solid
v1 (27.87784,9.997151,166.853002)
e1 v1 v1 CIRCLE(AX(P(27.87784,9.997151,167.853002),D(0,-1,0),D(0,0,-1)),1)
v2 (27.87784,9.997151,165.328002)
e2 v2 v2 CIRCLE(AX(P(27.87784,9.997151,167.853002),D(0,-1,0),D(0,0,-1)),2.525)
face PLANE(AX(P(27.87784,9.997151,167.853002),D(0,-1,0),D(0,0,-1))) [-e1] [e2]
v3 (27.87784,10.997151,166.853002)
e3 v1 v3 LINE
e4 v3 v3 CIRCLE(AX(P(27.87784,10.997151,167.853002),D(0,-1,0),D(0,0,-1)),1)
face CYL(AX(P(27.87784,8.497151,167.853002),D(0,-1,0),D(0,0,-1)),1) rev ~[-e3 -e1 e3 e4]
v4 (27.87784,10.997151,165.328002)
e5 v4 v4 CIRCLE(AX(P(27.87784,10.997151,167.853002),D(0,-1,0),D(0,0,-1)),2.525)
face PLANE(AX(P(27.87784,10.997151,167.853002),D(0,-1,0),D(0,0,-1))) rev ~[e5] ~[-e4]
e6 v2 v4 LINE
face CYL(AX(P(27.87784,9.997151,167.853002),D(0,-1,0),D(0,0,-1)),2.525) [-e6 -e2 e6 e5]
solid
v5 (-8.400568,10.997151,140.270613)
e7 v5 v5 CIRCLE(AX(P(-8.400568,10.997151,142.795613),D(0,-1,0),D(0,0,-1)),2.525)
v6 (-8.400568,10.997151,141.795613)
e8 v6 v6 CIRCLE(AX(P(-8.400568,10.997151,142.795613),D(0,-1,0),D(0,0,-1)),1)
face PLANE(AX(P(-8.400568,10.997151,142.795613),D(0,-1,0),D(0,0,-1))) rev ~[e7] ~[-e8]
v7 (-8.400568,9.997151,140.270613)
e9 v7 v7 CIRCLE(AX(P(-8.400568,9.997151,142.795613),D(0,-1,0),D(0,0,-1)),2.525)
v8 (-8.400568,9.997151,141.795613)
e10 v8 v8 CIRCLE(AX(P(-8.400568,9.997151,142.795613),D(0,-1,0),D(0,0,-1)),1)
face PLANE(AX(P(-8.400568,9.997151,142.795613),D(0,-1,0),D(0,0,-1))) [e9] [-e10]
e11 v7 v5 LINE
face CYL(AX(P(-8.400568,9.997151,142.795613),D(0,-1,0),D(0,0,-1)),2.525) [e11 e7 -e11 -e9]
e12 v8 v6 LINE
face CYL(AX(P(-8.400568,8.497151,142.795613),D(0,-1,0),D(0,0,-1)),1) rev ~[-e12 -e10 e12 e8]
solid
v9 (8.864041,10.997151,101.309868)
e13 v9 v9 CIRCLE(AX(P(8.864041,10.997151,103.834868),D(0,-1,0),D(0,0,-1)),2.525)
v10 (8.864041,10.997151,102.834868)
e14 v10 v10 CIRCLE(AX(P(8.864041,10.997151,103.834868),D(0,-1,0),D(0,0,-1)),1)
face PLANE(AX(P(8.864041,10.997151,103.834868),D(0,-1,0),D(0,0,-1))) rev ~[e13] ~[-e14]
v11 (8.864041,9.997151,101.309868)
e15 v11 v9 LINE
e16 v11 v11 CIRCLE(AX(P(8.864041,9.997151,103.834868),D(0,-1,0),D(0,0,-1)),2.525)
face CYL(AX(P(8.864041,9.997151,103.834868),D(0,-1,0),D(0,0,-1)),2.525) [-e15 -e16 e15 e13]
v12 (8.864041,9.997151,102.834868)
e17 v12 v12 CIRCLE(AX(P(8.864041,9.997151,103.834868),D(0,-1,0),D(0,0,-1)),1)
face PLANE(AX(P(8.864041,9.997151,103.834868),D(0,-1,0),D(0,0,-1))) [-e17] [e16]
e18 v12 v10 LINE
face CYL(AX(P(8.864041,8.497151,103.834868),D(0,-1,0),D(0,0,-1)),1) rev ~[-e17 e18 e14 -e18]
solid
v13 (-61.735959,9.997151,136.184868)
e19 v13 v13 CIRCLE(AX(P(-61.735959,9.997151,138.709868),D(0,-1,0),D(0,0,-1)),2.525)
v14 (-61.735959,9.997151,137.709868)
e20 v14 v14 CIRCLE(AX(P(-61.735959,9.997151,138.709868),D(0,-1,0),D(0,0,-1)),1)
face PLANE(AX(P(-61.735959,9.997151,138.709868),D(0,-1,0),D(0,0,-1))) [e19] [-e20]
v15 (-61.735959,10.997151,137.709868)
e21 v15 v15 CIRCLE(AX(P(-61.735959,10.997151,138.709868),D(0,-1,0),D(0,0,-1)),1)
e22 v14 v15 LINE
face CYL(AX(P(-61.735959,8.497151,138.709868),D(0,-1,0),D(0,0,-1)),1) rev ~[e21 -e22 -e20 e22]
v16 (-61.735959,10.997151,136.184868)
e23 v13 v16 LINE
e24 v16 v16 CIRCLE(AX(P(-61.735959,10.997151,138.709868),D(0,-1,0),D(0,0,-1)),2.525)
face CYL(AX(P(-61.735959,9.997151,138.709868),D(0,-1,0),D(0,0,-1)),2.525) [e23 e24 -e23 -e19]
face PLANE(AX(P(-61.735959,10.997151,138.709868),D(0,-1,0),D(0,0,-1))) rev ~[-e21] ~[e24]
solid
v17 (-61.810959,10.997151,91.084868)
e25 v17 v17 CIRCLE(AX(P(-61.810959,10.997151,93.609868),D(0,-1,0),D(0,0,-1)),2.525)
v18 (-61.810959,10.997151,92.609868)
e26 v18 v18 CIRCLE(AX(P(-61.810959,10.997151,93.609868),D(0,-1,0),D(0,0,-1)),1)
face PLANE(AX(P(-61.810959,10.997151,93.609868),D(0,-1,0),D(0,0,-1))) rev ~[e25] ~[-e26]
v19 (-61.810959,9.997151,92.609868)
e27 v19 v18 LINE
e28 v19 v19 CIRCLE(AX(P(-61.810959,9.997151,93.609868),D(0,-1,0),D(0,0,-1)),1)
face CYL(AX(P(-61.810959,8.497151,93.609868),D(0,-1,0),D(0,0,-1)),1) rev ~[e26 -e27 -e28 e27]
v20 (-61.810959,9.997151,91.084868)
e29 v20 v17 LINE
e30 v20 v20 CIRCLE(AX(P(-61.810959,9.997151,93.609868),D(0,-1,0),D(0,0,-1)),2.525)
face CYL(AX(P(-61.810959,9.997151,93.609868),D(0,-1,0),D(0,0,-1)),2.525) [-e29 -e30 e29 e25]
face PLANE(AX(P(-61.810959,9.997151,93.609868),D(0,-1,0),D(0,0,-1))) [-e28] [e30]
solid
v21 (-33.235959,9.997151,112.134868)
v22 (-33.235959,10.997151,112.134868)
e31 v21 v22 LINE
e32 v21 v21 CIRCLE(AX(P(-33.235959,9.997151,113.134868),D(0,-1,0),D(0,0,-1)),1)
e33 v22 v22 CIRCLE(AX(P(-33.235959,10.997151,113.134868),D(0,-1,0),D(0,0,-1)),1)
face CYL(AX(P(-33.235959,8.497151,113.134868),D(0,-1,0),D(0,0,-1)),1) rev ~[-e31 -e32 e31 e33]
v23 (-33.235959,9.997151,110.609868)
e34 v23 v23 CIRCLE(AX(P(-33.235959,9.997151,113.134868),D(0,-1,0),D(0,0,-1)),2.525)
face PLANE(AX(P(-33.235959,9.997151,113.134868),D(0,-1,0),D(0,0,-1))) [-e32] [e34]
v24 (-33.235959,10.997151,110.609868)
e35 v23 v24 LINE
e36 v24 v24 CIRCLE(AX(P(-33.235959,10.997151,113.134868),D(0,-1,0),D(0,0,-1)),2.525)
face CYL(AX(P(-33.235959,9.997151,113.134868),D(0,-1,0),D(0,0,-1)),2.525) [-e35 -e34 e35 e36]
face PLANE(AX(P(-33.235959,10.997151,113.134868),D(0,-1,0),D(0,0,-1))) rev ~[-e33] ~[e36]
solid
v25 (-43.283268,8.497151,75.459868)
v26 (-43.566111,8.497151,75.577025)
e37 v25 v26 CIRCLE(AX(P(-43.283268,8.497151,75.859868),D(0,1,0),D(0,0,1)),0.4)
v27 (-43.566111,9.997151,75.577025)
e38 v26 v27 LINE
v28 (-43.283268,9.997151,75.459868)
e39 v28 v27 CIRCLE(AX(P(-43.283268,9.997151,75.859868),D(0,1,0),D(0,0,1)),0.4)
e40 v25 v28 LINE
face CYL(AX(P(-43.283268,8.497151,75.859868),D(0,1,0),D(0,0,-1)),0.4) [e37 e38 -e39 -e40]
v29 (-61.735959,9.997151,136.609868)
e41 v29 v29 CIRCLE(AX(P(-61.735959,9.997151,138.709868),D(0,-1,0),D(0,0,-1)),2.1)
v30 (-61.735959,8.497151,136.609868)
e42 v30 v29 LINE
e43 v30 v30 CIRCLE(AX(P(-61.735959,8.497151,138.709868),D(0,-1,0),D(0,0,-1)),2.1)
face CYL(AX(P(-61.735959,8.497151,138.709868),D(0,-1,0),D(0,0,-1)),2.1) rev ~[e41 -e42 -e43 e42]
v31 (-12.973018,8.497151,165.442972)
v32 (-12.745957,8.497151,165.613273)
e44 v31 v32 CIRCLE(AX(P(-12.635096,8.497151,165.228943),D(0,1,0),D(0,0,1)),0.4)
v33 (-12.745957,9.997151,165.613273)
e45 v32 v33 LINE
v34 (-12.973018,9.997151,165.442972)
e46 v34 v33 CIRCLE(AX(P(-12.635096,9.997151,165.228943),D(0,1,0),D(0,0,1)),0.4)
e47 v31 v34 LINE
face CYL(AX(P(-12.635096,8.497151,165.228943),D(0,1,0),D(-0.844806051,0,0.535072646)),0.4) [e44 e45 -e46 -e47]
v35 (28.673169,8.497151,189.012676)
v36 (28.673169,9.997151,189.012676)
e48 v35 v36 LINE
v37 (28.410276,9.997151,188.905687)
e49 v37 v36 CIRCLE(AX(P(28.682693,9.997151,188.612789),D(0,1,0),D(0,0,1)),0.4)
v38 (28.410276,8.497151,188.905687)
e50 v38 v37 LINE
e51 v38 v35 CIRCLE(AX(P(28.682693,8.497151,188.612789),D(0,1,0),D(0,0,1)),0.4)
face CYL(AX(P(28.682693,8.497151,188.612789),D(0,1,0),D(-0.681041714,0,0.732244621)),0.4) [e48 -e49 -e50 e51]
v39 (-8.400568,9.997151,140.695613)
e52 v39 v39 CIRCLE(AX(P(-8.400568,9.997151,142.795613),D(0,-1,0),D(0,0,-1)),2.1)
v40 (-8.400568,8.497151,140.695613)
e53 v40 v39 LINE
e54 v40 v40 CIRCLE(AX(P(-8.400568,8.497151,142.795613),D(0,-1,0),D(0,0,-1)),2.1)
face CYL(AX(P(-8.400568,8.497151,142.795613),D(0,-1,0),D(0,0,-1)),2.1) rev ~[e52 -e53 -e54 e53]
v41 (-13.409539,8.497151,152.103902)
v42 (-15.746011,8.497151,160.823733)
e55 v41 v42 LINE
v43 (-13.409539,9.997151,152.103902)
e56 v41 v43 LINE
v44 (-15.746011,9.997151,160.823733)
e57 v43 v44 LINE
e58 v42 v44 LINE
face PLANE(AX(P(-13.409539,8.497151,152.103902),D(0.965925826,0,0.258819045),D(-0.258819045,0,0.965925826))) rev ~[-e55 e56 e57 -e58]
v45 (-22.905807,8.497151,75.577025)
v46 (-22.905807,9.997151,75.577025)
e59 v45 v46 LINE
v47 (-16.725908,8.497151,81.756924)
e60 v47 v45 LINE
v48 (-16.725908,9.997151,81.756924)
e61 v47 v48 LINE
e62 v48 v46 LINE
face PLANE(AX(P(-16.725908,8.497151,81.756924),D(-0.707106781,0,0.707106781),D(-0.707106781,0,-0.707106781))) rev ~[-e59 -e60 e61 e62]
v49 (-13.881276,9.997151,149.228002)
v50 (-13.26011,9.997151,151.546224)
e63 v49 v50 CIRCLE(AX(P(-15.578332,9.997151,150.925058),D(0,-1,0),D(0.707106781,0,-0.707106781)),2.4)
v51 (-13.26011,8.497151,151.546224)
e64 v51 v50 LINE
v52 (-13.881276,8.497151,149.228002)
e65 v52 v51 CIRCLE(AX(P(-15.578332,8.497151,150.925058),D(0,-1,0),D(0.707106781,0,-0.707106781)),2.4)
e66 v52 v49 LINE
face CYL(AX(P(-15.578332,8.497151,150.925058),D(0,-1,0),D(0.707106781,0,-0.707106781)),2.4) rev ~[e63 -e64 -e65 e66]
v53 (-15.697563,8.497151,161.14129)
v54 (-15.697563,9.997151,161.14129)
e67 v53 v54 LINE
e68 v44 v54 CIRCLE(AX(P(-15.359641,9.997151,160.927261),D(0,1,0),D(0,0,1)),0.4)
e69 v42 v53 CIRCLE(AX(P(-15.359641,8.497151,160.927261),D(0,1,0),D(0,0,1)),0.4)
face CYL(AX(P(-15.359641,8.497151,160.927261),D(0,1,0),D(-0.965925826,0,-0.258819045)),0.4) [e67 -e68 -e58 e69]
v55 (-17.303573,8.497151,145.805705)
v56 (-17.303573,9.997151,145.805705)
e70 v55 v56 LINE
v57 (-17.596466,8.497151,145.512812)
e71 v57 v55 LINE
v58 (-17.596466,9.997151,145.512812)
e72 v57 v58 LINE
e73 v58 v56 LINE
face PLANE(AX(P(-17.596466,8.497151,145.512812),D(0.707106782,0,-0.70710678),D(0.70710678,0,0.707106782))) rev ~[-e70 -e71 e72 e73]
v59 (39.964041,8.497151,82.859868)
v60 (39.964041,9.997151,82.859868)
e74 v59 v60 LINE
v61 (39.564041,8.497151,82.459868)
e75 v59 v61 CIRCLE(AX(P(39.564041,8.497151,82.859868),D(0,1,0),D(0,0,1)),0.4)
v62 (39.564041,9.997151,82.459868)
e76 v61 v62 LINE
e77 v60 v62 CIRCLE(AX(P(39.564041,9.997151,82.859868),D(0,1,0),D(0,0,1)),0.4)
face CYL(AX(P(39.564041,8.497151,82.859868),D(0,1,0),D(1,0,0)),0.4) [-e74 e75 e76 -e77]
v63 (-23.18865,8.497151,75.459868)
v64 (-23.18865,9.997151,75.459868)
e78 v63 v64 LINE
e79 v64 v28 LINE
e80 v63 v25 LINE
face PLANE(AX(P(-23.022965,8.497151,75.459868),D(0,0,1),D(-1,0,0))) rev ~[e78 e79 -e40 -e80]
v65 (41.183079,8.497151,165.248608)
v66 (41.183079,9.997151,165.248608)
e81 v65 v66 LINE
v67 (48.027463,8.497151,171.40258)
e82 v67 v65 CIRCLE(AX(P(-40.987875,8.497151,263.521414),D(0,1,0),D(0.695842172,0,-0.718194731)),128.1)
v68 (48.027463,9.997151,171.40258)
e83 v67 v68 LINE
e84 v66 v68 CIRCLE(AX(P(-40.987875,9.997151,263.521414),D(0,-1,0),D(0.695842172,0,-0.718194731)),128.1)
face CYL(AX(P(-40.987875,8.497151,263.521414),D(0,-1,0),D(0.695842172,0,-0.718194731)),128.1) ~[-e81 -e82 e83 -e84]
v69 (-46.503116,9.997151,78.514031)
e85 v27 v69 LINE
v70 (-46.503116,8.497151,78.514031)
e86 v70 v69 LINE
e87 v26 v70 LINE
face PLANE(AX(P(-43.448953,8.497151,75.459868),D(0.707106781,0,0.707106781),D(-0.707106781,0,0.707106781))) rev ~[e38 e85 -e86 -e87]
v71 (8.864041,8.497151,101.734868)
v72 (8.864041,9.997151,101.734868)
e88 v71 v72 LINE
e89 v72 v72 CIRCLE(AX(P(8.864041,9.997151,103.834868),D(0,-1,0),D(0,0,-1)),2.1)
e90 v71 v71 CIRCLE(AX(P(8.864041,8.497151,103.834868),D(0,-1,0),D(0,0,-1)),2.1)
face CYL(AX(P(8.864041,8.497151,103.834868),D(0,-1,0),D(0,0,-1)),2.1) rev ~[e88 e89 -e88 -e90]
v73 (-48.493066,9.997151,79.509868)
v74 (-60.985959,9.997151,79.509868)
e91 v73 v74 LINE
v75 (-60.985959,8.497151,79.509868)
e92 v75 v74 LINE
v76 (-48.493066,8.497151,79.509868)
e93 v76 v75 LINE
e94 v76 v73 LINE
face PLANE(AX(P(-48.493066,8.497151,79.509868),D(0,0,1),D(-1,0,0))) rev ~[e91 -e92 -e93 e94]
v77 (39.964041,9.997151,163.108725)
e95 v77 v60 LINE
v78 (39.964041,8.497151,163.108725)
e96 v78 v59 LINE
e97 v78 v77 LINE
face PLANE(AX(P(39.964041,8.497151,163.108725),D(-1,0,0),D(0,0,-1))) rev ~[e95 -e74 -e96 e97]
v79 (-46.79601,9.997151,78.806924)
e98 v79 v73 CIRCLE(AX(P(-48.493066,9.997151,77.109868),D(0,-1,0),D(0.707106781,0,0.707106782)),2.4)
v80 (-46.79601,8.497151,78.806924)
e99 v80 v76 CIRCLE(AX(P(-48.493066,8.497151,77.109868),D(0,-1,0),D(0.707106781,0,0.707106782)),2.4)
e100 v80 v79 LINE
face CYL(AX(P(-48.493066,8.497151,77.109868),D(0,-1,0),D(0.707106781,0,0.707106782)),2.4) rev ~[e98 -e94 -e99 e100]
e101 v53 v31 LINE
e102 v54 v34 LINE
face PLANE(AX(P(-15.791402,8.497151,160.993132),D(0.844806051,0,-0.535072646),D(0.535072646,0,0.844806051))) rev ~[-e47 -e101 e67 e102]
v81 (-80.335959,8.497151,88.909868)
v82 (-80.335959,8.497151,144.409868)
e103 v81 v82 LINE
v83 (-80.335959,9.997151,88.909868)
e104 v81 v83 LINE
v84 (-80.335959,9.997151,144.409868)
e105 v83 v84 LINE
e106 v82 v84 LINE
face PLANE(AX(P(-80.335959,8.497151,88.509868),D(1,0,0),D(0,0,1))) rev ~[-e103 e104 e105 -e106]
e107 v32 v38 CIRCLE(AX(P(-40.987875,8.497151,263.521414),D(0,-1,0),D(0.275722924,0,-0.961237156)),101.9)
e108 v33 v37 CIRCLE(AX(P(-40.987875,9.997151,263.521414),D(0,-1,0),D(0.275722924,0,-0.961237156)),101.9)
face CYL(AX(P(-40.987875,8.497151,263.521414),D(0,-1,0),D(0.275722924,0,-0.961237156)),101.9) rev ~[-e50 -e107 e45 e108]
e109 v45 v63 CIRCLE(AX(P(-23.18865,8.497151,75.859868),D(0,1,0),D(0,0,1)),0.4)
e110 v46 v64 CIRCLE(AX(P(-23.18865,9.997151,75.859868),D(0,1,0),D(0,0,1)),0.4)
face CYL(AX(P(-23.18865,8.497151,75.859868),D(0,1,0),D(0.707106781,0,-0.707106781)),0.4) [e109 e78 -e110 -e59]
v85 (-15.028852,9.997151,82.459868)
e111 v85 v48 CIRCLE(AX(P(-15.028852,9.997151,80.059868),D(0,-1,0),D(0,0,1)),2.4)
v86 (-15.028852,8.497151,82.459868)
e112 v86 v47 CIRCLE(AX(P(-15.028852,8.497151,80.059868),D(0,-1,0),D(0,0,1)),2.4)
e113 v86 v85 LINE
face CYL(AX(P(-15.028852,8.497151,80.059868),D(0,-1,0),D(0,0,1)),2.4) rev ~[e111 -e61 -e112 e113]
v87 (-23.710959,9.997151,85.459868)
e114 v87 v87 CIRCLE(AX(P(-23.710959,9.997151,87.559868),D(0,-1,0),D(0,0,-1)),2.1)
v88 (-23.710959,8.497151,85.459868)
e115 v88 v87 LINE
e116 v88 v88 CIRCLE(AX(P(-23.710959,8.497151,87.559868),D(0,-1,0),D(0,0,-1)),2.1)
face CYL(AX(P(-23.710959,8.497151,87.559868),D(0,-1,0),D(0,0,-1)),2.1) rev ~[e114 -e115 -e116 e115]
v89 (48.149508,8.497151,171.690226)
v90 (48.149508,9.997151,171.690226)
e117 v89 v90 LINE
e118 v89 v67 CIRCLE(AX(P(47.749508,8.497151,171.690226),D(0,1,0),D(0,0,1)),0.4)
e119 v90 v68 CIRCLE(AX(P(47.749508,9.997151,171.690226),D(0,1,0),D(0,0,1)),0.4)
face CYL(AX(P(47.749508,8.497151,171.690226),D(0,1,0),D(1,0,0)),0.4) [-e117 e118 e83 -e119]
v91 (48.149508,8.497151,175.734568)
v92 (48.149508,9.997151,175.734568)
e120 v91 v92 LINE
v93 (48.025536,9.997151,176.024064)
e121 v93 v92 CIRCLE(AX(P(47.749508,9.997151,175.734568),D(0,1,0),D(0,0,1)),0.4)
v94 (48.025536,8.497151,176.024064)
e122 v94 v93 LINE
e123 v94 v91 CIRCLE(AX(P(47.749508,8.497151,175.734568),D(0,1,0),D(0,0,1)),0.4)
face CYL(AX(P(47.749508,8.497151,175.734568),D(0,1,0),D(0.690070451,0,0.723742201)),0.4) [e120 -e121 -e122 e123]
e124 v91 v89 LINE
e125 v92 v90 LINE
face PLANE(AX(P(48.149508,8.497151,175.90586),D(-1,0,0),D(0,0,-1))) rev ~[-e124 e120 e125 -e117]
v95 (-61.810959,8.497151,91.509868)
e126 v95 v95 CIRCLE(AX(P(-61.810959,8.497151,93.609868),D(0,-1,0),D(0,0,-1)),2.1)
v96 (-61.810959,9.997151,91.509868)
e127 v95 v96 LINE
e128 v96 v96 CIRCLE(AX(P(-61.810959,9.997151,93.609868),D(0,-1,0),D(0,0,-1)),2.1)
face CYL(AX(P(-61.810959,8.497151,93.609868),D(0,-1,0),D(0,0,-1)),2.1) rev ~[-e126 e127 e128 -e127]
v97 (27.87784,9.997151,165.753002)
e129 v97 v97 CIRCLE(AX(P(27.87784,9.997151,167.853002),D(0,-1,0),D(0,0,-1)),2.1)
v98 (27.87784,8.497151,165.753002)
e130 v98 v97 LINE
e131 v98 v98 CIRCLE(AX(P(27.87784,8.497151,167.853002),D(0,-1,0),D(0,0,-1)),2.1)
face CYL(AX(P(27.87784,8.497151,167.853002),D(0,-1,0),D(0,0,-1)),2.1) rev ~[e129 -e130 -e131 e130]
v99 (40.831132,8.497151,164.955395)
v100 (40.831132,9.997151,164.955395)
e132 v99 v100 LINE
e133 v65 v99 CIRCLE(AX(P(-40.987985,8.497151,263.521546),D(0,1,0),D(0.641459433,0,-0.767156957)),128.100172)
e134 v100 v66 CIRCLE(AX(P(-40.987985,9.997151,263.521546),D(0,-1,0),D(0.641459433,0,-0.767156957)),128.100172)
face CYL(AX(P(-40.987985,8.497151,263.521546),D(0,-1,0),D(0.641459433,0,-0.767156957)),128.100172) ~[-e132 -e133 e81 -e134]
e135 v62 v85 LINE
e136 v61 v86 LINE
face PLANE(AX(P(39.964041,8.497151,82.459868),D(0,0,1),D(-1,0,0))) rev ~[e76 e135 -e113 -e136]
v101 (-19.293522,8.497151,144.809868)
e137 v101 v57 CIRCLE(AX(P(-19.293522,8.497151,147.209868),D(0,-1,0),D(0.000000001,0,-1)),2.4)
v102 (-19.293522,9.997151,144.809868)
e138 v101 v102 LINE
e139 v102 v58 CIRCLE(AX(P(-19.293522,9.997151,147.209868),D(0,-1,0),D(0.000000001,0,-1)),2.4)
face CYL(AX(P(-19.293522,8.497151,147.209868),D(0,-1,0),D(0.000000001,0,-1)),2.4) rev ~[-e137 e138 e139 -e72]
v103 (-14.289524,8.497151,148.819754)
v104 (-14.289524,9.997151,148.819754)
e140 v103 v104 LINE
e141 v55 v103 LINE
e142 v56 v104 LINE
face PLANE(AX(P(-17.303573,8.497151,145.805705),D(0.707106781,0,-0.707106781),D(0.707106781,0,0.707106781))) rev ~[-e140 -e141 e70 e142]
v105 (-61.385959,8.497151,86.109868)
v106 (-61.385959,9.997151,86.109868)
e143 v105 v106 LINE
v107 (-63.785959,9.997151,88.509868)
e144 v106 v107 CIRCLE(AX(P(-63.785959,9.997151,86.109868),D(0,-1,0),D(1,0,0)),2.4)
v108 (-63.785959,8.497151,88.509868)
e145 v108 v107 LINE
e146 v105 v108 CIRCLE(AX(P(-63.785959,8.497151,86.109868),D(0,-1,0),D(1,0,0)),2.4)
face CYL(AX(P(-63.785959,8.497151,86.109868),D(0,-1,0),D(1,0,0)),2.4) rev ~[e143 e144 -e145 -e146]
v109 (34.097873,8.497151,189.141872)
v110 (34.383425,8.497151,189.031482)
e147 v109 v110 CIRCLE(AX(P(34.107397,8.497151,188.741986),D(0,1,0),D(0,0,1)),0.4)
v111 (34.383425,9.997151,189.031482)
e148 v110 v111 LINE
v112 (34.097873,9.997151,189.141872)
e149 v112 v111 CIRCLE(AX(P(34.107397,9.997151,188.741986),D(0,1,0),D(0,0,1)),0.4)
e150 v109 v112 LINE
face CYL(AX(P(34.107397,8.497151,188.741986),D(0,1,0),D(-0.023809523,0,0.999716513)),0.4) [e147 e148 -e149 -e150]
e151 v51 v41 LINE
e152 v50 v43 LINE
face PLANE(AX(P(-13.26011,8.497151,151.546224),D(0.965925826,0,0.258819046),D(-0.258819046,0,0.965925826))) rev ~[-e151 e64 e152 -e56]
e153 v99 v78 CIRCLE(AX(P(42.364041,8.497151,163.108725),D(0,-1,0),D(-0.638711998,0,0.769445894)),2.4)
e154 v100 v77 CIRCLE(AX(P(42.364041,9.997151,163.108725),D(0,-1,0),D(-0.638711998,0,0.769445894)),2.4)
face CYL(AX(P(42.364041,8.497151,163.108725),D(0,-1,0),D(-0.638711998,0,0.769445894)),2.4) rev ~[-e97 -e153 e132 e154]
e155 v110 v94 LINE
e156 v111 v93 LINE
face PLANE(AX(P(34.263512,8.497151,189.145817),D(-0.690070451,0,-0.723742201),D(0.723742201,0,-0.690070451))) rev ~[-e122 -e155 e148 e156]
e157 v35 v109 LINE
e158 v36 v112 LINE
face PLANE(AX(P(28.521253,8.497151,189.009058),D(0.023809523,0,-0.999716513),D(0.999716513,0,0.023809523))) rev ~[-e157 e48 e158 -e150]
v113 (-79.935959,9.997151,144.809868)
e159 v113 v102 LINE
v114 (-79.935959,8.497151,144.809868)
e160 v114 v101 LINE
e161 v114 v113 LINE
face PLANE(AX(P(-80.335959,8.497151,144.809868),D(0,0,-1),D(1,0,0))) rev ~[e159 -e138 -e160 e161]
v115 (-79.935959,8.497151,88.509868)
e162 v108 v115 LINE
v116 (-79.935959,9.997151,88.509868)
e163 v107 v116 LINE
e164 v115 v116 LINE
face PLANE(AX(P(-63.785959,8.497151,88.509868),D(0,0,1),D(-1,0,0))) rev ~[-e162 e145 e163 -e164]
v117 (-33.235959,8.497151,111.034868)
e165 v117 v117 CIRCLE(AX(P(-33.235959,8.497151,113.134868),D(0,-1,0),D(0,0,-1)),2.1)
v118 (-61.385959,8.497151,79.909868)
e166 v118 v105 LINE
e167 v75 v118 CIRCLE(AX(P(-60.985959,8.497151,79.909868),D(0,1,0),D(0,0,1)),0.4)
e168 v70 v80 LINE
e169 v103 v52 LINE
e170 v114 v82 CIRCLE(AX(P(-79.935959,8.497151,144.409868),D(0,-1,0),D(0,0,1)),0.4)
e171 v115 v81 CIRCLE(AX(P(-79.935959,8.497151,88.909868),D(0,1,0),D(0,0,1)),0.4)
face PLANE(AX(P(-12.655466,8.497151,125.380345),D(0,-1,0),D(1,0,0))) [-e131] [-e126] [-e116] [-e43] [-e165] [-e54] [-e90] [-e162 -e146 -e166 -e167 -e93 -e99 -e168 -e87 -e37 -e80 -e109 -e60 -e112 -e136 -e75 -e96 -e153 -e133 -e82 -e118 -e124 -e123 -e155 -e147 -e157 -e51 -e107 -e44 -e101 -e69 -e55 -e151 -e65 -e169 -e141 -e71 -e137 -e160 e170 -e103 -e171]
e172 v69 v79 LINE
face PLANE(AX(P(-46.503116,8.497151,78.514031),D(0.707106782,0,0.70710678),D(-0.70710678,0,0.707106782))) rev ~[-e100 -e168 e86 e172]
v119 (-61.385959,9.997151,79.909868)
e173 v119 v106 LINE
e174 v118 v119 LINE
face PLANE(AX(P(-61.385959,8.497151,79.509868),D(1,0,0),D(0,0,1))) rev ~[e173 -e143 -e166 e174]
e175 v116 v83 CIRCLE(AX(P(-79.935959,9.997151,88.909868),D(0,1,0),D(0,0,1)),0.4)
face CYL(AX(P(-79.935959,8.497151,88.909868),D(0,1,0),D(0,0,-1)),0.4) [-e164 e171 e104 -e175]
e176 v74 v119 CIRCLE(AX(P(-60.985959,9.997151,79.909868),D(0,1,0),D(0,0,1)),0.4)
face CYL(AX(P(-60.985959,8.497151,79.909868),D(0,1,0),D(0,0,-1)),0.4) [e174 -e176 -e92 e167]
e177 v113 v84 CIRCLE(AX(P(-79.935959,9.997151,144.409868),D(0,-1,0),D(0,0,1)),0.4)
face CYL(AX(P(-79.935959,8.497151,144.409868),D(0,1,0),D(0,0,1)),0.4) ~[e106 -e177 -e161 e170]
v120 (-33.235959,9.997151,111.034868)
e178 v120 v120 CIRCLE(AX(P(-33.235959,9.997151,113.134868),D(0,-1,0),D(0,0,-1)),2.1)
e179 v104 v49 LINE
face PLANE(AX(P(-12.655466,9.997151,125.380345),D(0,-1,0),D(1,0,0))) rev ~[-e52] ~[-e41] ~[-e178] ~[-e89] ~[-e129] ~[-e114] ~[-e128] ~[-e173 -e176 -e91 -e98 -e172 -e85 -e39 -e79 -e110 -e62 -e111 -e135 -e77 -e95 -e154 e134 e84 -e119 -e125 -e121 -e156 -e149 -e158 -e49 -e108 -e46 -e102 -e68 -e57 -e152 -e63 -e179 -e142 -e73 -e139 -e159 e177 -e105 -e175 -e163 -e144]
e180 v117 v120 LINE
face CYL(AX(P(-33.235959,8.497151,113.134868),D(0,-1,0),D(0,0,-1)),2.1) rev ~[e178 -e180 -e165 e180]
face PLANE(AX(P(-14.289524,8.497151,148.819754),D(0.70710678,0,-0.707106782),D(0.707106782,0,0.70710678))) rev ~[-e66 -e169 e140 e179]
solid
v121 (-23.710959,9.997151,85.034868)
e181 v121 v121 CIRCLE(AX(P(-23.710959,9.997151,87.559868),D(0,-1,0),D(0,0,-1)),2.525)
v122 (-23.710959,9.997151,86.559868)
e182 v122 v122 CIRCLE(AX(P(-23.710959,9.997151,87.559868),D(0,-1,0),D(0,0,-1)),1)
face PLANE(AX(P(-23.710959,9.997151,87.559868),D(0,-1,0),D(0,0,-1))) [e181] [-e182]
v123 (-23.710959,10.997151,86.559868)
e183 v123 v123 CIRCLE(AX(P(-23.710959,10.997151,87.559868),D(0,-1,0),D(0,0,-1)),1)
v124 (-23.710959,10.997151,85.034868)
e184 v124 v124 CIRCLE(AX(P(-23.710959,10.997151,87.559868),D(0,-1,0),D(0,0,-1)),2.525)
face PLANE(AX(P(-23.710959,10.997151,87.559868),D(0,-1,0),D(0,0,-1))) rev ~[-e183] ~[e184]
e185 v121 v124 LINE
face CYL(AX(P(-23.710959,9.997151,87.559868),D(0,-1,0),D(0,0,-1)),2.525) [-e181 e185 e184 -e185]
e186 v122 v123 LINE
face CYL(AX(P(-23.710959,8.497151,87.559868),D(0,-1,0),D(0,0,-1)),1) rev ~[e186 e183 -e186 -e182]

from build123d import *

# Parameters (mm, degrees)
SCHIZZO1_R                     = 2.525
SCHIZZO1_R_2                   = 0.6
ESTRUSIONE_ESTRUSIONE1_DEPTH   = 1
ESTRUSIONE_ESTRUSIONE1_2_DEPTH = 1
ESTRUSIONE_ESTRUSIONE1_3_DEPTH = 1
ESTRUSIONE_ESTRUSIONE1_4_DEPTH = 1
ESTRUSIONE_ESTRUSIONE1_5_DEPTH = 1
ESTRUSIONE_ESTRUSIONE1_6_DEPTH = 1
ESTRUSIONE_ESTRUSIONE1_7_DEPTH = 1
SCHIZZO1_4_R                   = 0.6
ESTRUSIONE_ESTRUSIONE3_DEPTH   = 1.5
SCHIZZO2_R                     = 1
SCHIZZO2_R_2                   = 0.6
TAGLIO_ESTRUSIONE1_DEPTH       = 206.778654361
SCHIZZO2_3_R                   = 2.1
TAGLIO_ESTRUSIONE2_DEPTH       = 1.5
TAGLIO_ESTRUSIONE3_DEPTH       = 206.778654361
RACCORDO1_R                    = 0.4


with BuildPart() as part:
    # Schizzo1 → Estrusione-Estrusione1 (new body)
    with BuildSketch(Plane.XZ.offset(-9.997150898)):
        with Locations(Location((-8.400568352, 142.795613421, 0), (0, 0, 270))):
            Circle(SCHIZZO1_R)
        with Locations(Location((-8.400568352, 142.795613421, 0), (0, 0, 270))):
            Circle(SCHIZZO1_R_2, mode=Mode.SUBTRACT)
    extrude(amount=-ESTRUSIONE_ESTRUSIONE1_DEPTH)


with BuildPart() as body_2:
    # Schizzo1 → Estrusione-Estrusione1 2 (new body)
    with BuildSketch(Plane.XZ.offset(-9.997150898)):
        with Locations(Location((-33.235959006, 113.134868204, 0), (0, 0, 270))):
            Circle(SCHIZZO1_R)
        with Locations(Location((-33.235959006, 113.134868204, 0), (0, 0, 270))):
            Circle(SCHIZZO1_R_2, mode=Mode.SUBTRACT)
    extrude(amount=-ESTRUSIONE_ESTRUSIONE1_2_DEPTH)


with BuildPart() as body_3:
    # Schizzo1 → Estrusione-Estrusione1 3 (new body)
    with BuildSketch(Plane.XZ.offset(-9.997150898)):
        with Locations(Location((-61.810959006, 93.609868204, 0), (0, 0, 270))):
            Circle(SCHIZZO1_R)
        with Locations(Location((-61.810959006, 93.609868204, 0), (0, 0, 270))):
            Circle(SCHIZZO1_R_2, mode=Mode.SUBTRACT)
    extrude(amount=-ESTRUSIONE_ESTRUSIONE1_3_DEPTH)


with BuildPart() as body_4:
    # Schizzo1 → Estrusione-Estrusione1 4 (new body)
    with BuildSketch(Plane.XZ.offset(-9.997150898)):
        with Locations(Location((-23.710959006, 87.559868204, 0), (0, 0, 270))):
            Circle(SCHIZZO1_R)
        with Locations(Location((-23.710959006, 87.559868204, 0), (0, 0, 270))):
            Circle(SCHIZZO1_R_2, mode=Mode.SUBTRACT)
    extrude(amount=-ESTRUSIONE_ESTRUSIONE1_4_DEPTH)


with BuildPart() as body_5:
    # Schizzo1 → Estrusione-Estrusione1 5 (new body)
    with BuildSketch(Plane.XZ.offset(-9.997150898)):
        with Locations(Location((8.864040994, 103.834868204, 0), (0, 0, 270))):
            Circle(SCHIZZO1_R)
        with Locations(Location((8.864040994, 103.834868204, 0), (0, 0, 270))):
            Circle(SCHIZZO1_R_2, mode=Mode.SUBTRACT)
    extrude(amount=-ESTRUSIONE_ESTRUSIONE1_5_DEPTH)


with BuildPart() as body_6:
    # Schizzo1 → Estrusione-Estrusione1 6 (new body)
    with BuildSketch(Plane.XZ.offset(-9.997150898)):
        with Locations(Location((-61.735959006, 138.709868204, 0), (0, 0, 270))):
            Circle(SCHIZZO1_R)
        with Locations(Location((-61.735959006, 138.709868204, 0), (0, 0, 270))):
            Circle(SCHIZZO1_R_2, mode=Mode.SUBTRACT)
    extrude(amount=-ESTRUSIONE_ESTRUSIONE1_6_DEPTH)


with BuildPart() as body_7:
    # Schizzo1 → Estrusione-Estrusione1 7 (new body)
    with BuildSketch(Plane.XZ.offset(-9.997150898)):
        with Locations(Location((27.877840097, 167.853001817, 0), (0, 0, 270))):
            Circle(SCHIZZO1_R)
        with Locations(Location((27.877840097, 167.853001817, 0), (0, 0, 270))):
            Circle(SCHIZZO1_R_2, mode=Mode.SUBTRACT)
    extrude(amount=-ESTRUSIONE_ESTRUSIONE1_7_DEPTH)


with BuildPart() as body_8:
    # Schizzo1<4> → Estrusione-Estrusione3 (new body)
    with BuildSketch(Plane.XZ.offset(-9.997150898)):
        with BuildLine():
            Line((-61.585959006, 85.109868204), (-61.585959006, 79.309868204))
            Line((-61.585959006, 79.309868204), (-48.90727935, 79.309868204))
            ThreePointArc((-48.90727935, 79.309868204), (-47.682692366, 79.066282708), (-46.64453765, 78.372609904))
            Line((-46.64453765, 78.372609904), (-43.53179595, 75.259868204))
            Line((-43.53179595, 75.259868204), (-22.940122062, 75.259868204))
            Line((-22.940122062, 75.259868204), (-16.877380362, 81.322609904))
            ThreePointArc((-16.877380362, 81.322609904), (-15.839225646, 82.016282708), (-14.614638663, 82.259868204))
            Line((-14.614638663, 82.259868204), (40.164040994, 82.259868204))
            Line((40.164040994, 82.259868204), (40.164040994, 162.640274386))
            ThreePointArc((40.164040994, 162.640274386), (40.465028695, 163.995164674), (41.311370802, 165.095176642))
            ThreePointArc((41.311370802, 165.095176642), (44.888982085, 168.200611029), (48.349507568, 171.436007235))
            Line((48.349507568, 171.436007235), (48.349507568, 175.99150674))
            Line((48.349507568, 175.99150674), (34.341569111, 189.34773275))
            Line((34.341569111, 189.34773275), (28.440404626, 189.207188998))
            ThreePointArc((28.440404626, 189.207188998), (9.103555092, 175.013003825), (-13.019946896, 165.742658503))
            Line((-13.019946896, 165.742658503), (-16.007281898, 161.026067764))
            Line((-16.007281898, 161.026067764), (-13.602724619, 152.052137829))
            ThreePointArc((-13.602724619, 152.052137829), (-13.602724619, 150.39569594), (-14.430945563, 148.961175185))
            Line((-14.430945563, 148.961175185), (-17.444994244, 145.947126504))
            ThreePointArc((-17.444994244, 145.947126504), (-18.48314896, 145.2534537), (-19.707735944, 145.009868204))
            Line((-19.707735944, 145.009868204), (-80.535959006, 145.009868204))
            Line((-80.535959006, 145.009868204), (-80.535959006, 88.309868204))
            Line((-80.535959006, 88.309868204), (-64.785959006, 88.309868204))
            ThreePointArc((-64.785959006, 88.309868204), (-62.523217306, 87.372609904), (-61.585959006, 85.109868204))
        make_face()
        with Locations(Location((-23.710959006, 87.559868204, 0), (0, 0, 90))):
            Circle(SCHIZZO1_4_R, mode=Mode.SUBTRACT)
        with Locations(Location((-33.235959006, 113.134868204, 0), (0, 0, 90))):
            Circle(SCHIZZO1_4_R, mode=Mode.SUBTRACT)
        with Locations(Location((8.864040994, 103.834868204, 0), (0, 0, 90))):
            Circle(SCHIZZO1_4_R, mode=Mode.SUBTRACT)
        with Locations(Location((27.877840097, 167.853001817, 0), (0, 0, 90))):
            Circle(SCHIZZO1_4_R, mode=Mode.SUBTRACT)
        with Locations(Location((-61.810959006, 93.609868204, 0), (0, 0, 90))):
            Circle(SCHIZZO1_4_R, mode=Mode.SUBTRACT)
        with Locations(Location((-61.735959006, 138.709868204, 0), (0, 0, 90))):
            Circle(SCHIZZO1_4_R, mode=Mode.SUBTRACT)
        with Locations(Location((-8.400568352, 142.795613421, 0), (0, 0, 90))):
            Circle(SCHIZZO1_4_R, mode=Mode.SUBTRACT)
    extrude(amount=ESTRUSIONE_ESTRUSIONE3_DEPTH)

    # Schizzo2<3> → Taglio-Estrusione2 (cut)
    with BuildSketch(Plane.XZ.offset(-8.497150898)):
        with Locations(Location((-61.735959006, 138.709868204, 0), (0, 0, 270))):
            Circle(SCHIZZO2_3_R)
        with Locations(Location((-8.400568352, 142.795613421, 0), (0, 0, 270))):
            Circle(SCHIZZO2_3_R)
        with Locations(Location((27.877840097, 167.853001817, 0), (0, 0, 270))):
            Circle(SCHIZZO2_3_R)
        with Locations(Location((8.864040994, 103.834868204, 0), (0, 0, 270))):
            Circle(SCHIZZO2_3_R)
        with Locations(Location((-23.710959006, 87.559868204, 0), (0, 0, 270))):
            Circle(SCHIZZO2_3_R)
        with Locations(Location((-61.810959006, 93.609868204, 0), (0, 0, 270))):
            Circle(SCHIZZO2_3_R)
        with Locations(Location((-33.235959006, 113.134868204, 0), (0, 0, 270))):
            Circle(SCHIZZO2_3_R)
    extrude(amount=-TAGLIO_ESTRUSIONE2_DEPTH, mode=Mode.SUBTRACT)

    # Schizzo3 → Taglio-Estrusione3 (cut, through all)
    # profile 1 of 7: a face of its own
    with BuildSketch(Plane.XZ.offset(-8.497150898)):
        with BuildLine():
            ThreePointArc((-17.444994244, 145.947126504), (-18.48314896, 145.2534537), (-19.707735944, 145.009868204))
            Line((-19.707735944, 145.009868204), (-80.535959006, 145.009868204))
            Line((-80.535959006, 145.009868204), (-80.535959006, 88.309868204))
            Line((-80.535959006, 88.309868204), (-64.785959006, 88.309868204))
            ThreePointArc((-64.785959006, 88.309868204), (-62.523217306, 87.372609904), (-61.585959006, 85.109868204))
            Line((-61.585959006, 85.109868204), (-61.585959006, 79.309868204))
            Line((-61.585959006, 79.309868204), (-48.90727935, 79.309868204))
            ThreePointArc((-48.90727935, 79.309868204), (-47.682692366, 79.066282708), (-46.64453765, 78.372609904))
            Line((-46.64453765, 78.372609904), (-43.53179595, 75.259868204))
            Line((-43.53179595, 75.259868204), (-22.940122062, 75.259868204))
            Line((-22.940122062, 75.259868204), (-16.877380362, 81.322609904))
            ThreePointArc((-16.877380362, 81.322609904), (-15.839225646, 82.016282708), (-14.614638663, 82.259868204))
            Line((-14.614638663, 82.259868204), (40.164040994, 82.259868204))
            Line((40.164040994, 82.259868204), (40.164040994, 162.640274386))
            ThreePointArc((40.164040994, 162.640274386), (40.465028695, 163.995164674), (41.311370802, 165.095176642))
            ThreePointArc((41.311370802, 165.095176642), (44.888982085, 168.200611029), (48.349507568, 171.436007235))
            Line((48.349507568, 171.436007235), (48.349507568, 175.99150674))
            Line((48.349507568, 175.99150674), (34.341569111, 189.34773275))
            Line((34.341569111, 189.34773275), (28.440404626, 189.207188998))
            ThreePointArc((28.440404626, 189.207188998), (9.103555092, 175.013003825), (-13.019946896, 165.742658503))
            Line((-13.019946896, 165.742658503), (-16.007281898, 161.026067764))
            Line((-16.007281898, 161.026067764), (-13.602724619, 152.052137829))
            ThreePointArc((-13.602724619, 152.052137829), (-13.602724619, 150.39569594), (-14.430945563, 148.961175185))
            Line((-14.430945563, 148.961175185), (-17.444994244, 145.947126504))
        make_face()
        with BuildLine():
            Line((-80.335959006, 144.809868204), (-19.707735944, 144.809868204))
            ThreePointArc((-19.707735944, 144.809868204), (-18.406612274, 145.068677793), (-17.303572888, 145.805705148))
            Line((-17.303572888, 145.805705148), (-14.289524207, 148.819753829))
            ThreePointArc((-14.289524207, 148.819753829), (-13.409539454, 150.343932131), (-13.409539454, 152.103901638))
            Line((-13.409539454, 152.103901638), (-15.791401568, 160.993132066))
            Line((-15.791401568, 160.993132066), (-12.891708807, 165.571347771))
            ThreePointArc((-12.891708807, 165.571347771), (9.202063312, 174.838945988), (28.521252605, 189.009057782))
            Line((28.521252605, 189.009057782), (34.263511788, 189.145817002))
            Line((34.263511788, 189.145817002), (48.149507568, 175.905860346))
            Line((48.149507568, 175.905860346), (48.149507568, 171.520668938))
            ThreePointArc((48.149507568, 171.520668938), (44.723683288, 168.320894897), (41.183078915, 165.248608032))
            ThreePointArc((41.183078915, 165.248608032), (40.283840427, 164.079845317), (39.964040994, 162.640274386))
            Line((39.964040994, 162.640274386), (39.964040994, 82.459868204))
            Line((39.964040994, 82.459868204), (-14.614638663, 82.459868204))
            ThreePointArc((-14.614638663, 82.459868204), (-15.915762333, 82.201058615), (-17.018801719, 81.46403126))
            Line((-17.018801719, 81.46403126), (-23.022964775, 75.459868204))
            Line((-23.022964775, 75.459868204), (-43.448953238, 75.459868204))
            Line((-43.448953238, 75.459868204), (-46.503116294, 78.51403126))
            ThreePointArc((-46.503116294, 78.51403126), (-47.60615568, 79.251058615), (-48.90727935, 79.509868204))
            Line((-48.90727935, 79.509868204), (-61.385959006, 79.509868204))
            Line((-61.385959006, 79.509868204), (-61.385959006, 85.109868204))
            ThreePointArc((-61.385959006, 85.109868204), (-62.38179595, 87.51403126), (-64.785959006, 88.509868204))
            Line((-64.785959006, 88.509868204), (-80.335959006, 88.509868204))
            Line((-80.335959006, 88.509868204), (-80.335959006, 144.809868204))
        make_face(mode=Mode.SUBTRACT)
    # profile 2 of 7: a face of its own
    with BuildSketch(Plane.XZ.offset(-8.497150898)):
        with BuildLine():
            ThreePointArc((39.964040994, 162.640274386), (40.283840427, 164.079845317), (41.183078915, 165.248608032))
            ThreePointArc((41.183078915, 165.248608032), (41.007236623, 165.101844148), (40.831132199, 164.955394902))
            ThreePointArc((40.831132199, 164.955394902), (40.191602145, 164.128778405), (39.964040994, 163.108724757))
            Line((39.964040994, 163.108724757), (39.964040994, 162.640274386))
        make_face()
    # profile 3 of 7: a face of its own
    with BuildSketch(Plane.XZ.offset(-8.497150898)):
        with BuildLine():
            ThreePointArc((-13.409539454, 152.103901638), (-13.409539454, 150.343932131), (-14.289524207, 148.819753829))
            Line((-14.289524207, 148.819753829), (-13.881275916, 149.228002119))
            ThreePointArc((-13.881275916, 149.228002119), (-13.260110208, 150.303892686), (-13.260110208, 151.546224102))
            Line((-13.260110208, 151.546224102), (-13.409539454, 152.103901638))
        make_face()
    # profile 4 of 7: a face of its own
    with BuildSketch(Plane.XZ.offset(-8.497150898)):
        with BuildLine():
            ThreePointArc((-17.303572888, 145.805705148), (-18.406612274, 145.068677793), (-19.707735944, 144.809868204))
            Line((-19.707735944, 144.809868204), (-19.293522381, 144.809868204))
            ThreePointArc((-19.293522381, 144.809868204), (-18.375082144, 144.992557326), (-17.596466106, 145.512811929))
            Line((-17.596466106, 145.512811929), (-17.303572888, 145.805705148))
        make_face()
    # profile 5 of 7: a face of its own
    with BuildSketch(Plane.XZ.offset(-8.497150898)):
        with BuildLine():
            Line((-63.785959006, 88.509868204), (-64.785959006, 88.509868204))
            ThreePointArc((-64.785959006, 88.509868204), (-62.38179595, 87.51403126), (-61.385959006, 85.109868204))
            Line((-61.385959006, 85.109868204), (-61.385959006, 86.109868204))
            ThreePointArc((-61.385959006, 86.109868204), (-62.088902731, 87.806924479), (-63.785959006, 88.509868204))
        make_face()
    # profile 6 of 7: a face of its own
    with BuildSketch(Plane.XZ.offset(-8.497150898)):
        with BuildLine():
            Line((-48.493065787, 79.509868204), (-48.90727935, 79.509868204))
            ThreePointArc((-48.90727935, 79.509868204), (-47.60615568, 79.251058615), (-46.503116294, 78.51403126))
            Line((-46.503116294, 78.51403126), (-46.796009512, 78.806924479))
            ThreePointArc((-46.796009512, 78.806924479), (-47.57462555, 79.327179082), (-48.493065787, 79.509868204))
        make_face()
    # profile 7 of 7: a face of its own
    with BuildSketch(Plane.XZ.offset(-8.497150898)):
        with BuildLine():
            Line((-16.7259085, 81.756924479), (-17.018801719, 81.46403126))
            ThreePointArc((-17.018801719, 81.46403126), (-15.915762333, 82.201058615), (-14.614638663, 82.459868204))
            Line((-14.614638663, 82.459868204), (-15.028852225, 82.459868204))
            ThreePointArc((-15.028852225, 82.459868204), (-15.947292463, 82.277179082), (-16.7259085, 81.756924479))
        make_face()
    extrude(amount=-TAGLIO_ESTRUSIONE3_DEPTH, mode=Mode.SUBTRACT)

    # Raccordo1
    raccordo1_edges = [body_8.edges().sort_by_distance(p)[0] for p in [
        (-80.335959006, 9.247150898, 144.809868204),
        (-80.335959006, 9.247150898, 88.509868204),
        (-61.385959006, 9.247150898, 79.509868204),
        (-43.448953238, 9.247150898, 75.459868204),
        (-23.022964775, 9.247150898, 75.459868204),
        (39.964040994, 9.247150898, 82.459868204),
        (48.149507568, 9.247150898, 171.520668938),
        (48.149507568, 9.247150898, 175.905860346),
        (34.263511788, 9.247150898, 189.145817002),
        (28.521252605, 9.247150898, 189.009057782),
        (-12.891708807, 9.247150898, 165.571347771),
        (-15.791401568, 9.247150898, 160.993132066),
    ]]
    fillet(raccordo1_edges, radius=RACCORDO1_R)


with BuildPart() as taglio_estrusione1_tool:
    # Schizzo2 → Taglio-Estrusione1 (new, through all)
    # profile 1 of 7: a face of its own
    with BuildSketch(Plane.XZ.offset(-8.497150898)):
        with Locations(Location((-61.735959006, 138.709868204, 0), (0, 0, 270))):
            Circle(SCHIZZO2_R)
        with Locations(Location((-61.735959006, 138.709868204, 0), (0, 0, 90))):
            Circle(SCHIZZO2_R_2, mode=Mode.SUBTRACT)
    # profile 2 of 7: a face of its own
    with BuildSketch(Plane.XZ.offset(-8.497150898)):
        with Locations(Location((-8.400568352, 142.795613421, 0), (0, 0, 270))):
            Circle(SCHIZZO2_R)
        with Locations(Location((-8.400568352, 142.795613421, 0), (0, 0, 90))):
            Circle(SCHIZZO2_R_2, mode=Mode.SUBTRACT)
    # profile 3 of 7: a face of its own
    with BuildSketch(Plane.XZ.offset(-8.497150898)):
        with Locations(Location((-33.235959006, 113.134868204, 0), (0, 0, 270))):
            Circle(SCHIZZO2_R)
        with Locations(Location((-33.235959006, 113.134868204, 0), (0, 0, 90))):
            Circle(SCHIZZO2_R_2, mode=Mode.SUBTRACT)
    # profile 4 of 7: a face of its own
    with BuildSketch(Plane.XZ.offset(-8.497150898)):
        with Locations(Location((-61.810959006, 93.609868204, 0), (0, 0, 270))):
            Circle(SCHIZZO2_R)
        with Locations(Location((-61.810959006, 93.609868204, 0), (0, 0, 90))):
            Circle(SCHIZZO2_R_2, mode=Mode.SUBTRACT)
    # profile 5 of 7: a face of its own
    with BuildSketch(Plane.XZ.offset(-8.497150898)):
        with Locations(Location((-23.710959006, 87.559868204, 0), (0, 0, 270))):
            Circle(SCHIZZO2_R)
        with Locations(Location((-23.710959006, 87.559868204, 0), (0, 0, 90))):
            Circle(SCHIZZO2_R_2, mode=Mode.SUBTRACT)
    # profile 6 of 7: a face of its own
    with BuildSketch(Plane.XZ.offset(-8.497150898)):
        with Locations(Location((8.864040994, 103.834868204, 0), (0, 0, 270))):
            Circle(SCHIZZO2_R)
        with Locations(Location((8.864040994, 103.834868204, 0), (0, 0, 90))):
            Circle(SCHIZZO2_R_2, mode=Mode.SUBTRACT)
    # profile 7 of 7: a face of its own
    with BuildSketch(Plane.XZ.offset(-8.497150898)):
        with Locations(Location((27.877840097, 167.853001817, 0), (0, 0, 270))):
            Circle(SCHIZZO2_R)
        with Locations(Location((27.877840097, 167.853001817, 0), (0, 0, 90))):
            Circle(SCHIZZO2_R_2, mode=Mode.SUBTRACT)
    extrude(amount=-TAGLIO_ESTRUSIONE1_DEPTH)


with BuildPart() as part_1:
    add(part.part)

    # Taglio-Estrusione1: cut by taglio_estrusione1_tool
    add(taglio_estrusione1_tool.part, mode=Mode.SUBTRACT)


with BuildPart() as body_2_1:
    add(body_2.part)

    # Taglio-Estrusione1: cut by taglio_estrusione1_tool
    add(taglio_estrusione1_tool.part, mode=Mode.SUBTRACT)


with BuildPart() as body_3_1:
    add(body_3.part)

    # Taglio-Estrusione1: cut by taglio_estrusione1_tool
    add(taglio_estrusione1_tool.part, mode=Mode.SUBTRACT)


with BuildPart() as body_4_1:
    add(body_4.part)

    # Taglio-Estrusione1: cut by taglio_estrusione1_tool
    add(taglio_estrusione1_tool.part, mode=Mode.SUBTRACT)


with BuildPart() as body_5_1:
    add(body_5.part)

    # Taglio-Estrusione1: cut by taglio_estrusione1_tool
    add(taglio_estrusione1_tool.part, mode=Mode.SUBTRACT)


with BuildPart() as body_6_1:
    add(body_6.part)

    # Taglio-Estrusione1: cut by taglio_estrusione1_tool
    add(taglio_estrusione1_tool.part, mode=Mode.SUBTRACT)


with BuildPart() as body_7_1:
    add(body_7.part)

    # Taglio-Estrusione1: cut by taglio_estrusione1_tool
    add(taglio_estrusione1_tool.part, mode=Mode.SUBTRACT)


solid = Compound([body_8.part, part_1.part, body_2_1.part, body_3_1.part, body_4_1.part, body_5_1.part, body_6_1.part, body_7_1.part])
